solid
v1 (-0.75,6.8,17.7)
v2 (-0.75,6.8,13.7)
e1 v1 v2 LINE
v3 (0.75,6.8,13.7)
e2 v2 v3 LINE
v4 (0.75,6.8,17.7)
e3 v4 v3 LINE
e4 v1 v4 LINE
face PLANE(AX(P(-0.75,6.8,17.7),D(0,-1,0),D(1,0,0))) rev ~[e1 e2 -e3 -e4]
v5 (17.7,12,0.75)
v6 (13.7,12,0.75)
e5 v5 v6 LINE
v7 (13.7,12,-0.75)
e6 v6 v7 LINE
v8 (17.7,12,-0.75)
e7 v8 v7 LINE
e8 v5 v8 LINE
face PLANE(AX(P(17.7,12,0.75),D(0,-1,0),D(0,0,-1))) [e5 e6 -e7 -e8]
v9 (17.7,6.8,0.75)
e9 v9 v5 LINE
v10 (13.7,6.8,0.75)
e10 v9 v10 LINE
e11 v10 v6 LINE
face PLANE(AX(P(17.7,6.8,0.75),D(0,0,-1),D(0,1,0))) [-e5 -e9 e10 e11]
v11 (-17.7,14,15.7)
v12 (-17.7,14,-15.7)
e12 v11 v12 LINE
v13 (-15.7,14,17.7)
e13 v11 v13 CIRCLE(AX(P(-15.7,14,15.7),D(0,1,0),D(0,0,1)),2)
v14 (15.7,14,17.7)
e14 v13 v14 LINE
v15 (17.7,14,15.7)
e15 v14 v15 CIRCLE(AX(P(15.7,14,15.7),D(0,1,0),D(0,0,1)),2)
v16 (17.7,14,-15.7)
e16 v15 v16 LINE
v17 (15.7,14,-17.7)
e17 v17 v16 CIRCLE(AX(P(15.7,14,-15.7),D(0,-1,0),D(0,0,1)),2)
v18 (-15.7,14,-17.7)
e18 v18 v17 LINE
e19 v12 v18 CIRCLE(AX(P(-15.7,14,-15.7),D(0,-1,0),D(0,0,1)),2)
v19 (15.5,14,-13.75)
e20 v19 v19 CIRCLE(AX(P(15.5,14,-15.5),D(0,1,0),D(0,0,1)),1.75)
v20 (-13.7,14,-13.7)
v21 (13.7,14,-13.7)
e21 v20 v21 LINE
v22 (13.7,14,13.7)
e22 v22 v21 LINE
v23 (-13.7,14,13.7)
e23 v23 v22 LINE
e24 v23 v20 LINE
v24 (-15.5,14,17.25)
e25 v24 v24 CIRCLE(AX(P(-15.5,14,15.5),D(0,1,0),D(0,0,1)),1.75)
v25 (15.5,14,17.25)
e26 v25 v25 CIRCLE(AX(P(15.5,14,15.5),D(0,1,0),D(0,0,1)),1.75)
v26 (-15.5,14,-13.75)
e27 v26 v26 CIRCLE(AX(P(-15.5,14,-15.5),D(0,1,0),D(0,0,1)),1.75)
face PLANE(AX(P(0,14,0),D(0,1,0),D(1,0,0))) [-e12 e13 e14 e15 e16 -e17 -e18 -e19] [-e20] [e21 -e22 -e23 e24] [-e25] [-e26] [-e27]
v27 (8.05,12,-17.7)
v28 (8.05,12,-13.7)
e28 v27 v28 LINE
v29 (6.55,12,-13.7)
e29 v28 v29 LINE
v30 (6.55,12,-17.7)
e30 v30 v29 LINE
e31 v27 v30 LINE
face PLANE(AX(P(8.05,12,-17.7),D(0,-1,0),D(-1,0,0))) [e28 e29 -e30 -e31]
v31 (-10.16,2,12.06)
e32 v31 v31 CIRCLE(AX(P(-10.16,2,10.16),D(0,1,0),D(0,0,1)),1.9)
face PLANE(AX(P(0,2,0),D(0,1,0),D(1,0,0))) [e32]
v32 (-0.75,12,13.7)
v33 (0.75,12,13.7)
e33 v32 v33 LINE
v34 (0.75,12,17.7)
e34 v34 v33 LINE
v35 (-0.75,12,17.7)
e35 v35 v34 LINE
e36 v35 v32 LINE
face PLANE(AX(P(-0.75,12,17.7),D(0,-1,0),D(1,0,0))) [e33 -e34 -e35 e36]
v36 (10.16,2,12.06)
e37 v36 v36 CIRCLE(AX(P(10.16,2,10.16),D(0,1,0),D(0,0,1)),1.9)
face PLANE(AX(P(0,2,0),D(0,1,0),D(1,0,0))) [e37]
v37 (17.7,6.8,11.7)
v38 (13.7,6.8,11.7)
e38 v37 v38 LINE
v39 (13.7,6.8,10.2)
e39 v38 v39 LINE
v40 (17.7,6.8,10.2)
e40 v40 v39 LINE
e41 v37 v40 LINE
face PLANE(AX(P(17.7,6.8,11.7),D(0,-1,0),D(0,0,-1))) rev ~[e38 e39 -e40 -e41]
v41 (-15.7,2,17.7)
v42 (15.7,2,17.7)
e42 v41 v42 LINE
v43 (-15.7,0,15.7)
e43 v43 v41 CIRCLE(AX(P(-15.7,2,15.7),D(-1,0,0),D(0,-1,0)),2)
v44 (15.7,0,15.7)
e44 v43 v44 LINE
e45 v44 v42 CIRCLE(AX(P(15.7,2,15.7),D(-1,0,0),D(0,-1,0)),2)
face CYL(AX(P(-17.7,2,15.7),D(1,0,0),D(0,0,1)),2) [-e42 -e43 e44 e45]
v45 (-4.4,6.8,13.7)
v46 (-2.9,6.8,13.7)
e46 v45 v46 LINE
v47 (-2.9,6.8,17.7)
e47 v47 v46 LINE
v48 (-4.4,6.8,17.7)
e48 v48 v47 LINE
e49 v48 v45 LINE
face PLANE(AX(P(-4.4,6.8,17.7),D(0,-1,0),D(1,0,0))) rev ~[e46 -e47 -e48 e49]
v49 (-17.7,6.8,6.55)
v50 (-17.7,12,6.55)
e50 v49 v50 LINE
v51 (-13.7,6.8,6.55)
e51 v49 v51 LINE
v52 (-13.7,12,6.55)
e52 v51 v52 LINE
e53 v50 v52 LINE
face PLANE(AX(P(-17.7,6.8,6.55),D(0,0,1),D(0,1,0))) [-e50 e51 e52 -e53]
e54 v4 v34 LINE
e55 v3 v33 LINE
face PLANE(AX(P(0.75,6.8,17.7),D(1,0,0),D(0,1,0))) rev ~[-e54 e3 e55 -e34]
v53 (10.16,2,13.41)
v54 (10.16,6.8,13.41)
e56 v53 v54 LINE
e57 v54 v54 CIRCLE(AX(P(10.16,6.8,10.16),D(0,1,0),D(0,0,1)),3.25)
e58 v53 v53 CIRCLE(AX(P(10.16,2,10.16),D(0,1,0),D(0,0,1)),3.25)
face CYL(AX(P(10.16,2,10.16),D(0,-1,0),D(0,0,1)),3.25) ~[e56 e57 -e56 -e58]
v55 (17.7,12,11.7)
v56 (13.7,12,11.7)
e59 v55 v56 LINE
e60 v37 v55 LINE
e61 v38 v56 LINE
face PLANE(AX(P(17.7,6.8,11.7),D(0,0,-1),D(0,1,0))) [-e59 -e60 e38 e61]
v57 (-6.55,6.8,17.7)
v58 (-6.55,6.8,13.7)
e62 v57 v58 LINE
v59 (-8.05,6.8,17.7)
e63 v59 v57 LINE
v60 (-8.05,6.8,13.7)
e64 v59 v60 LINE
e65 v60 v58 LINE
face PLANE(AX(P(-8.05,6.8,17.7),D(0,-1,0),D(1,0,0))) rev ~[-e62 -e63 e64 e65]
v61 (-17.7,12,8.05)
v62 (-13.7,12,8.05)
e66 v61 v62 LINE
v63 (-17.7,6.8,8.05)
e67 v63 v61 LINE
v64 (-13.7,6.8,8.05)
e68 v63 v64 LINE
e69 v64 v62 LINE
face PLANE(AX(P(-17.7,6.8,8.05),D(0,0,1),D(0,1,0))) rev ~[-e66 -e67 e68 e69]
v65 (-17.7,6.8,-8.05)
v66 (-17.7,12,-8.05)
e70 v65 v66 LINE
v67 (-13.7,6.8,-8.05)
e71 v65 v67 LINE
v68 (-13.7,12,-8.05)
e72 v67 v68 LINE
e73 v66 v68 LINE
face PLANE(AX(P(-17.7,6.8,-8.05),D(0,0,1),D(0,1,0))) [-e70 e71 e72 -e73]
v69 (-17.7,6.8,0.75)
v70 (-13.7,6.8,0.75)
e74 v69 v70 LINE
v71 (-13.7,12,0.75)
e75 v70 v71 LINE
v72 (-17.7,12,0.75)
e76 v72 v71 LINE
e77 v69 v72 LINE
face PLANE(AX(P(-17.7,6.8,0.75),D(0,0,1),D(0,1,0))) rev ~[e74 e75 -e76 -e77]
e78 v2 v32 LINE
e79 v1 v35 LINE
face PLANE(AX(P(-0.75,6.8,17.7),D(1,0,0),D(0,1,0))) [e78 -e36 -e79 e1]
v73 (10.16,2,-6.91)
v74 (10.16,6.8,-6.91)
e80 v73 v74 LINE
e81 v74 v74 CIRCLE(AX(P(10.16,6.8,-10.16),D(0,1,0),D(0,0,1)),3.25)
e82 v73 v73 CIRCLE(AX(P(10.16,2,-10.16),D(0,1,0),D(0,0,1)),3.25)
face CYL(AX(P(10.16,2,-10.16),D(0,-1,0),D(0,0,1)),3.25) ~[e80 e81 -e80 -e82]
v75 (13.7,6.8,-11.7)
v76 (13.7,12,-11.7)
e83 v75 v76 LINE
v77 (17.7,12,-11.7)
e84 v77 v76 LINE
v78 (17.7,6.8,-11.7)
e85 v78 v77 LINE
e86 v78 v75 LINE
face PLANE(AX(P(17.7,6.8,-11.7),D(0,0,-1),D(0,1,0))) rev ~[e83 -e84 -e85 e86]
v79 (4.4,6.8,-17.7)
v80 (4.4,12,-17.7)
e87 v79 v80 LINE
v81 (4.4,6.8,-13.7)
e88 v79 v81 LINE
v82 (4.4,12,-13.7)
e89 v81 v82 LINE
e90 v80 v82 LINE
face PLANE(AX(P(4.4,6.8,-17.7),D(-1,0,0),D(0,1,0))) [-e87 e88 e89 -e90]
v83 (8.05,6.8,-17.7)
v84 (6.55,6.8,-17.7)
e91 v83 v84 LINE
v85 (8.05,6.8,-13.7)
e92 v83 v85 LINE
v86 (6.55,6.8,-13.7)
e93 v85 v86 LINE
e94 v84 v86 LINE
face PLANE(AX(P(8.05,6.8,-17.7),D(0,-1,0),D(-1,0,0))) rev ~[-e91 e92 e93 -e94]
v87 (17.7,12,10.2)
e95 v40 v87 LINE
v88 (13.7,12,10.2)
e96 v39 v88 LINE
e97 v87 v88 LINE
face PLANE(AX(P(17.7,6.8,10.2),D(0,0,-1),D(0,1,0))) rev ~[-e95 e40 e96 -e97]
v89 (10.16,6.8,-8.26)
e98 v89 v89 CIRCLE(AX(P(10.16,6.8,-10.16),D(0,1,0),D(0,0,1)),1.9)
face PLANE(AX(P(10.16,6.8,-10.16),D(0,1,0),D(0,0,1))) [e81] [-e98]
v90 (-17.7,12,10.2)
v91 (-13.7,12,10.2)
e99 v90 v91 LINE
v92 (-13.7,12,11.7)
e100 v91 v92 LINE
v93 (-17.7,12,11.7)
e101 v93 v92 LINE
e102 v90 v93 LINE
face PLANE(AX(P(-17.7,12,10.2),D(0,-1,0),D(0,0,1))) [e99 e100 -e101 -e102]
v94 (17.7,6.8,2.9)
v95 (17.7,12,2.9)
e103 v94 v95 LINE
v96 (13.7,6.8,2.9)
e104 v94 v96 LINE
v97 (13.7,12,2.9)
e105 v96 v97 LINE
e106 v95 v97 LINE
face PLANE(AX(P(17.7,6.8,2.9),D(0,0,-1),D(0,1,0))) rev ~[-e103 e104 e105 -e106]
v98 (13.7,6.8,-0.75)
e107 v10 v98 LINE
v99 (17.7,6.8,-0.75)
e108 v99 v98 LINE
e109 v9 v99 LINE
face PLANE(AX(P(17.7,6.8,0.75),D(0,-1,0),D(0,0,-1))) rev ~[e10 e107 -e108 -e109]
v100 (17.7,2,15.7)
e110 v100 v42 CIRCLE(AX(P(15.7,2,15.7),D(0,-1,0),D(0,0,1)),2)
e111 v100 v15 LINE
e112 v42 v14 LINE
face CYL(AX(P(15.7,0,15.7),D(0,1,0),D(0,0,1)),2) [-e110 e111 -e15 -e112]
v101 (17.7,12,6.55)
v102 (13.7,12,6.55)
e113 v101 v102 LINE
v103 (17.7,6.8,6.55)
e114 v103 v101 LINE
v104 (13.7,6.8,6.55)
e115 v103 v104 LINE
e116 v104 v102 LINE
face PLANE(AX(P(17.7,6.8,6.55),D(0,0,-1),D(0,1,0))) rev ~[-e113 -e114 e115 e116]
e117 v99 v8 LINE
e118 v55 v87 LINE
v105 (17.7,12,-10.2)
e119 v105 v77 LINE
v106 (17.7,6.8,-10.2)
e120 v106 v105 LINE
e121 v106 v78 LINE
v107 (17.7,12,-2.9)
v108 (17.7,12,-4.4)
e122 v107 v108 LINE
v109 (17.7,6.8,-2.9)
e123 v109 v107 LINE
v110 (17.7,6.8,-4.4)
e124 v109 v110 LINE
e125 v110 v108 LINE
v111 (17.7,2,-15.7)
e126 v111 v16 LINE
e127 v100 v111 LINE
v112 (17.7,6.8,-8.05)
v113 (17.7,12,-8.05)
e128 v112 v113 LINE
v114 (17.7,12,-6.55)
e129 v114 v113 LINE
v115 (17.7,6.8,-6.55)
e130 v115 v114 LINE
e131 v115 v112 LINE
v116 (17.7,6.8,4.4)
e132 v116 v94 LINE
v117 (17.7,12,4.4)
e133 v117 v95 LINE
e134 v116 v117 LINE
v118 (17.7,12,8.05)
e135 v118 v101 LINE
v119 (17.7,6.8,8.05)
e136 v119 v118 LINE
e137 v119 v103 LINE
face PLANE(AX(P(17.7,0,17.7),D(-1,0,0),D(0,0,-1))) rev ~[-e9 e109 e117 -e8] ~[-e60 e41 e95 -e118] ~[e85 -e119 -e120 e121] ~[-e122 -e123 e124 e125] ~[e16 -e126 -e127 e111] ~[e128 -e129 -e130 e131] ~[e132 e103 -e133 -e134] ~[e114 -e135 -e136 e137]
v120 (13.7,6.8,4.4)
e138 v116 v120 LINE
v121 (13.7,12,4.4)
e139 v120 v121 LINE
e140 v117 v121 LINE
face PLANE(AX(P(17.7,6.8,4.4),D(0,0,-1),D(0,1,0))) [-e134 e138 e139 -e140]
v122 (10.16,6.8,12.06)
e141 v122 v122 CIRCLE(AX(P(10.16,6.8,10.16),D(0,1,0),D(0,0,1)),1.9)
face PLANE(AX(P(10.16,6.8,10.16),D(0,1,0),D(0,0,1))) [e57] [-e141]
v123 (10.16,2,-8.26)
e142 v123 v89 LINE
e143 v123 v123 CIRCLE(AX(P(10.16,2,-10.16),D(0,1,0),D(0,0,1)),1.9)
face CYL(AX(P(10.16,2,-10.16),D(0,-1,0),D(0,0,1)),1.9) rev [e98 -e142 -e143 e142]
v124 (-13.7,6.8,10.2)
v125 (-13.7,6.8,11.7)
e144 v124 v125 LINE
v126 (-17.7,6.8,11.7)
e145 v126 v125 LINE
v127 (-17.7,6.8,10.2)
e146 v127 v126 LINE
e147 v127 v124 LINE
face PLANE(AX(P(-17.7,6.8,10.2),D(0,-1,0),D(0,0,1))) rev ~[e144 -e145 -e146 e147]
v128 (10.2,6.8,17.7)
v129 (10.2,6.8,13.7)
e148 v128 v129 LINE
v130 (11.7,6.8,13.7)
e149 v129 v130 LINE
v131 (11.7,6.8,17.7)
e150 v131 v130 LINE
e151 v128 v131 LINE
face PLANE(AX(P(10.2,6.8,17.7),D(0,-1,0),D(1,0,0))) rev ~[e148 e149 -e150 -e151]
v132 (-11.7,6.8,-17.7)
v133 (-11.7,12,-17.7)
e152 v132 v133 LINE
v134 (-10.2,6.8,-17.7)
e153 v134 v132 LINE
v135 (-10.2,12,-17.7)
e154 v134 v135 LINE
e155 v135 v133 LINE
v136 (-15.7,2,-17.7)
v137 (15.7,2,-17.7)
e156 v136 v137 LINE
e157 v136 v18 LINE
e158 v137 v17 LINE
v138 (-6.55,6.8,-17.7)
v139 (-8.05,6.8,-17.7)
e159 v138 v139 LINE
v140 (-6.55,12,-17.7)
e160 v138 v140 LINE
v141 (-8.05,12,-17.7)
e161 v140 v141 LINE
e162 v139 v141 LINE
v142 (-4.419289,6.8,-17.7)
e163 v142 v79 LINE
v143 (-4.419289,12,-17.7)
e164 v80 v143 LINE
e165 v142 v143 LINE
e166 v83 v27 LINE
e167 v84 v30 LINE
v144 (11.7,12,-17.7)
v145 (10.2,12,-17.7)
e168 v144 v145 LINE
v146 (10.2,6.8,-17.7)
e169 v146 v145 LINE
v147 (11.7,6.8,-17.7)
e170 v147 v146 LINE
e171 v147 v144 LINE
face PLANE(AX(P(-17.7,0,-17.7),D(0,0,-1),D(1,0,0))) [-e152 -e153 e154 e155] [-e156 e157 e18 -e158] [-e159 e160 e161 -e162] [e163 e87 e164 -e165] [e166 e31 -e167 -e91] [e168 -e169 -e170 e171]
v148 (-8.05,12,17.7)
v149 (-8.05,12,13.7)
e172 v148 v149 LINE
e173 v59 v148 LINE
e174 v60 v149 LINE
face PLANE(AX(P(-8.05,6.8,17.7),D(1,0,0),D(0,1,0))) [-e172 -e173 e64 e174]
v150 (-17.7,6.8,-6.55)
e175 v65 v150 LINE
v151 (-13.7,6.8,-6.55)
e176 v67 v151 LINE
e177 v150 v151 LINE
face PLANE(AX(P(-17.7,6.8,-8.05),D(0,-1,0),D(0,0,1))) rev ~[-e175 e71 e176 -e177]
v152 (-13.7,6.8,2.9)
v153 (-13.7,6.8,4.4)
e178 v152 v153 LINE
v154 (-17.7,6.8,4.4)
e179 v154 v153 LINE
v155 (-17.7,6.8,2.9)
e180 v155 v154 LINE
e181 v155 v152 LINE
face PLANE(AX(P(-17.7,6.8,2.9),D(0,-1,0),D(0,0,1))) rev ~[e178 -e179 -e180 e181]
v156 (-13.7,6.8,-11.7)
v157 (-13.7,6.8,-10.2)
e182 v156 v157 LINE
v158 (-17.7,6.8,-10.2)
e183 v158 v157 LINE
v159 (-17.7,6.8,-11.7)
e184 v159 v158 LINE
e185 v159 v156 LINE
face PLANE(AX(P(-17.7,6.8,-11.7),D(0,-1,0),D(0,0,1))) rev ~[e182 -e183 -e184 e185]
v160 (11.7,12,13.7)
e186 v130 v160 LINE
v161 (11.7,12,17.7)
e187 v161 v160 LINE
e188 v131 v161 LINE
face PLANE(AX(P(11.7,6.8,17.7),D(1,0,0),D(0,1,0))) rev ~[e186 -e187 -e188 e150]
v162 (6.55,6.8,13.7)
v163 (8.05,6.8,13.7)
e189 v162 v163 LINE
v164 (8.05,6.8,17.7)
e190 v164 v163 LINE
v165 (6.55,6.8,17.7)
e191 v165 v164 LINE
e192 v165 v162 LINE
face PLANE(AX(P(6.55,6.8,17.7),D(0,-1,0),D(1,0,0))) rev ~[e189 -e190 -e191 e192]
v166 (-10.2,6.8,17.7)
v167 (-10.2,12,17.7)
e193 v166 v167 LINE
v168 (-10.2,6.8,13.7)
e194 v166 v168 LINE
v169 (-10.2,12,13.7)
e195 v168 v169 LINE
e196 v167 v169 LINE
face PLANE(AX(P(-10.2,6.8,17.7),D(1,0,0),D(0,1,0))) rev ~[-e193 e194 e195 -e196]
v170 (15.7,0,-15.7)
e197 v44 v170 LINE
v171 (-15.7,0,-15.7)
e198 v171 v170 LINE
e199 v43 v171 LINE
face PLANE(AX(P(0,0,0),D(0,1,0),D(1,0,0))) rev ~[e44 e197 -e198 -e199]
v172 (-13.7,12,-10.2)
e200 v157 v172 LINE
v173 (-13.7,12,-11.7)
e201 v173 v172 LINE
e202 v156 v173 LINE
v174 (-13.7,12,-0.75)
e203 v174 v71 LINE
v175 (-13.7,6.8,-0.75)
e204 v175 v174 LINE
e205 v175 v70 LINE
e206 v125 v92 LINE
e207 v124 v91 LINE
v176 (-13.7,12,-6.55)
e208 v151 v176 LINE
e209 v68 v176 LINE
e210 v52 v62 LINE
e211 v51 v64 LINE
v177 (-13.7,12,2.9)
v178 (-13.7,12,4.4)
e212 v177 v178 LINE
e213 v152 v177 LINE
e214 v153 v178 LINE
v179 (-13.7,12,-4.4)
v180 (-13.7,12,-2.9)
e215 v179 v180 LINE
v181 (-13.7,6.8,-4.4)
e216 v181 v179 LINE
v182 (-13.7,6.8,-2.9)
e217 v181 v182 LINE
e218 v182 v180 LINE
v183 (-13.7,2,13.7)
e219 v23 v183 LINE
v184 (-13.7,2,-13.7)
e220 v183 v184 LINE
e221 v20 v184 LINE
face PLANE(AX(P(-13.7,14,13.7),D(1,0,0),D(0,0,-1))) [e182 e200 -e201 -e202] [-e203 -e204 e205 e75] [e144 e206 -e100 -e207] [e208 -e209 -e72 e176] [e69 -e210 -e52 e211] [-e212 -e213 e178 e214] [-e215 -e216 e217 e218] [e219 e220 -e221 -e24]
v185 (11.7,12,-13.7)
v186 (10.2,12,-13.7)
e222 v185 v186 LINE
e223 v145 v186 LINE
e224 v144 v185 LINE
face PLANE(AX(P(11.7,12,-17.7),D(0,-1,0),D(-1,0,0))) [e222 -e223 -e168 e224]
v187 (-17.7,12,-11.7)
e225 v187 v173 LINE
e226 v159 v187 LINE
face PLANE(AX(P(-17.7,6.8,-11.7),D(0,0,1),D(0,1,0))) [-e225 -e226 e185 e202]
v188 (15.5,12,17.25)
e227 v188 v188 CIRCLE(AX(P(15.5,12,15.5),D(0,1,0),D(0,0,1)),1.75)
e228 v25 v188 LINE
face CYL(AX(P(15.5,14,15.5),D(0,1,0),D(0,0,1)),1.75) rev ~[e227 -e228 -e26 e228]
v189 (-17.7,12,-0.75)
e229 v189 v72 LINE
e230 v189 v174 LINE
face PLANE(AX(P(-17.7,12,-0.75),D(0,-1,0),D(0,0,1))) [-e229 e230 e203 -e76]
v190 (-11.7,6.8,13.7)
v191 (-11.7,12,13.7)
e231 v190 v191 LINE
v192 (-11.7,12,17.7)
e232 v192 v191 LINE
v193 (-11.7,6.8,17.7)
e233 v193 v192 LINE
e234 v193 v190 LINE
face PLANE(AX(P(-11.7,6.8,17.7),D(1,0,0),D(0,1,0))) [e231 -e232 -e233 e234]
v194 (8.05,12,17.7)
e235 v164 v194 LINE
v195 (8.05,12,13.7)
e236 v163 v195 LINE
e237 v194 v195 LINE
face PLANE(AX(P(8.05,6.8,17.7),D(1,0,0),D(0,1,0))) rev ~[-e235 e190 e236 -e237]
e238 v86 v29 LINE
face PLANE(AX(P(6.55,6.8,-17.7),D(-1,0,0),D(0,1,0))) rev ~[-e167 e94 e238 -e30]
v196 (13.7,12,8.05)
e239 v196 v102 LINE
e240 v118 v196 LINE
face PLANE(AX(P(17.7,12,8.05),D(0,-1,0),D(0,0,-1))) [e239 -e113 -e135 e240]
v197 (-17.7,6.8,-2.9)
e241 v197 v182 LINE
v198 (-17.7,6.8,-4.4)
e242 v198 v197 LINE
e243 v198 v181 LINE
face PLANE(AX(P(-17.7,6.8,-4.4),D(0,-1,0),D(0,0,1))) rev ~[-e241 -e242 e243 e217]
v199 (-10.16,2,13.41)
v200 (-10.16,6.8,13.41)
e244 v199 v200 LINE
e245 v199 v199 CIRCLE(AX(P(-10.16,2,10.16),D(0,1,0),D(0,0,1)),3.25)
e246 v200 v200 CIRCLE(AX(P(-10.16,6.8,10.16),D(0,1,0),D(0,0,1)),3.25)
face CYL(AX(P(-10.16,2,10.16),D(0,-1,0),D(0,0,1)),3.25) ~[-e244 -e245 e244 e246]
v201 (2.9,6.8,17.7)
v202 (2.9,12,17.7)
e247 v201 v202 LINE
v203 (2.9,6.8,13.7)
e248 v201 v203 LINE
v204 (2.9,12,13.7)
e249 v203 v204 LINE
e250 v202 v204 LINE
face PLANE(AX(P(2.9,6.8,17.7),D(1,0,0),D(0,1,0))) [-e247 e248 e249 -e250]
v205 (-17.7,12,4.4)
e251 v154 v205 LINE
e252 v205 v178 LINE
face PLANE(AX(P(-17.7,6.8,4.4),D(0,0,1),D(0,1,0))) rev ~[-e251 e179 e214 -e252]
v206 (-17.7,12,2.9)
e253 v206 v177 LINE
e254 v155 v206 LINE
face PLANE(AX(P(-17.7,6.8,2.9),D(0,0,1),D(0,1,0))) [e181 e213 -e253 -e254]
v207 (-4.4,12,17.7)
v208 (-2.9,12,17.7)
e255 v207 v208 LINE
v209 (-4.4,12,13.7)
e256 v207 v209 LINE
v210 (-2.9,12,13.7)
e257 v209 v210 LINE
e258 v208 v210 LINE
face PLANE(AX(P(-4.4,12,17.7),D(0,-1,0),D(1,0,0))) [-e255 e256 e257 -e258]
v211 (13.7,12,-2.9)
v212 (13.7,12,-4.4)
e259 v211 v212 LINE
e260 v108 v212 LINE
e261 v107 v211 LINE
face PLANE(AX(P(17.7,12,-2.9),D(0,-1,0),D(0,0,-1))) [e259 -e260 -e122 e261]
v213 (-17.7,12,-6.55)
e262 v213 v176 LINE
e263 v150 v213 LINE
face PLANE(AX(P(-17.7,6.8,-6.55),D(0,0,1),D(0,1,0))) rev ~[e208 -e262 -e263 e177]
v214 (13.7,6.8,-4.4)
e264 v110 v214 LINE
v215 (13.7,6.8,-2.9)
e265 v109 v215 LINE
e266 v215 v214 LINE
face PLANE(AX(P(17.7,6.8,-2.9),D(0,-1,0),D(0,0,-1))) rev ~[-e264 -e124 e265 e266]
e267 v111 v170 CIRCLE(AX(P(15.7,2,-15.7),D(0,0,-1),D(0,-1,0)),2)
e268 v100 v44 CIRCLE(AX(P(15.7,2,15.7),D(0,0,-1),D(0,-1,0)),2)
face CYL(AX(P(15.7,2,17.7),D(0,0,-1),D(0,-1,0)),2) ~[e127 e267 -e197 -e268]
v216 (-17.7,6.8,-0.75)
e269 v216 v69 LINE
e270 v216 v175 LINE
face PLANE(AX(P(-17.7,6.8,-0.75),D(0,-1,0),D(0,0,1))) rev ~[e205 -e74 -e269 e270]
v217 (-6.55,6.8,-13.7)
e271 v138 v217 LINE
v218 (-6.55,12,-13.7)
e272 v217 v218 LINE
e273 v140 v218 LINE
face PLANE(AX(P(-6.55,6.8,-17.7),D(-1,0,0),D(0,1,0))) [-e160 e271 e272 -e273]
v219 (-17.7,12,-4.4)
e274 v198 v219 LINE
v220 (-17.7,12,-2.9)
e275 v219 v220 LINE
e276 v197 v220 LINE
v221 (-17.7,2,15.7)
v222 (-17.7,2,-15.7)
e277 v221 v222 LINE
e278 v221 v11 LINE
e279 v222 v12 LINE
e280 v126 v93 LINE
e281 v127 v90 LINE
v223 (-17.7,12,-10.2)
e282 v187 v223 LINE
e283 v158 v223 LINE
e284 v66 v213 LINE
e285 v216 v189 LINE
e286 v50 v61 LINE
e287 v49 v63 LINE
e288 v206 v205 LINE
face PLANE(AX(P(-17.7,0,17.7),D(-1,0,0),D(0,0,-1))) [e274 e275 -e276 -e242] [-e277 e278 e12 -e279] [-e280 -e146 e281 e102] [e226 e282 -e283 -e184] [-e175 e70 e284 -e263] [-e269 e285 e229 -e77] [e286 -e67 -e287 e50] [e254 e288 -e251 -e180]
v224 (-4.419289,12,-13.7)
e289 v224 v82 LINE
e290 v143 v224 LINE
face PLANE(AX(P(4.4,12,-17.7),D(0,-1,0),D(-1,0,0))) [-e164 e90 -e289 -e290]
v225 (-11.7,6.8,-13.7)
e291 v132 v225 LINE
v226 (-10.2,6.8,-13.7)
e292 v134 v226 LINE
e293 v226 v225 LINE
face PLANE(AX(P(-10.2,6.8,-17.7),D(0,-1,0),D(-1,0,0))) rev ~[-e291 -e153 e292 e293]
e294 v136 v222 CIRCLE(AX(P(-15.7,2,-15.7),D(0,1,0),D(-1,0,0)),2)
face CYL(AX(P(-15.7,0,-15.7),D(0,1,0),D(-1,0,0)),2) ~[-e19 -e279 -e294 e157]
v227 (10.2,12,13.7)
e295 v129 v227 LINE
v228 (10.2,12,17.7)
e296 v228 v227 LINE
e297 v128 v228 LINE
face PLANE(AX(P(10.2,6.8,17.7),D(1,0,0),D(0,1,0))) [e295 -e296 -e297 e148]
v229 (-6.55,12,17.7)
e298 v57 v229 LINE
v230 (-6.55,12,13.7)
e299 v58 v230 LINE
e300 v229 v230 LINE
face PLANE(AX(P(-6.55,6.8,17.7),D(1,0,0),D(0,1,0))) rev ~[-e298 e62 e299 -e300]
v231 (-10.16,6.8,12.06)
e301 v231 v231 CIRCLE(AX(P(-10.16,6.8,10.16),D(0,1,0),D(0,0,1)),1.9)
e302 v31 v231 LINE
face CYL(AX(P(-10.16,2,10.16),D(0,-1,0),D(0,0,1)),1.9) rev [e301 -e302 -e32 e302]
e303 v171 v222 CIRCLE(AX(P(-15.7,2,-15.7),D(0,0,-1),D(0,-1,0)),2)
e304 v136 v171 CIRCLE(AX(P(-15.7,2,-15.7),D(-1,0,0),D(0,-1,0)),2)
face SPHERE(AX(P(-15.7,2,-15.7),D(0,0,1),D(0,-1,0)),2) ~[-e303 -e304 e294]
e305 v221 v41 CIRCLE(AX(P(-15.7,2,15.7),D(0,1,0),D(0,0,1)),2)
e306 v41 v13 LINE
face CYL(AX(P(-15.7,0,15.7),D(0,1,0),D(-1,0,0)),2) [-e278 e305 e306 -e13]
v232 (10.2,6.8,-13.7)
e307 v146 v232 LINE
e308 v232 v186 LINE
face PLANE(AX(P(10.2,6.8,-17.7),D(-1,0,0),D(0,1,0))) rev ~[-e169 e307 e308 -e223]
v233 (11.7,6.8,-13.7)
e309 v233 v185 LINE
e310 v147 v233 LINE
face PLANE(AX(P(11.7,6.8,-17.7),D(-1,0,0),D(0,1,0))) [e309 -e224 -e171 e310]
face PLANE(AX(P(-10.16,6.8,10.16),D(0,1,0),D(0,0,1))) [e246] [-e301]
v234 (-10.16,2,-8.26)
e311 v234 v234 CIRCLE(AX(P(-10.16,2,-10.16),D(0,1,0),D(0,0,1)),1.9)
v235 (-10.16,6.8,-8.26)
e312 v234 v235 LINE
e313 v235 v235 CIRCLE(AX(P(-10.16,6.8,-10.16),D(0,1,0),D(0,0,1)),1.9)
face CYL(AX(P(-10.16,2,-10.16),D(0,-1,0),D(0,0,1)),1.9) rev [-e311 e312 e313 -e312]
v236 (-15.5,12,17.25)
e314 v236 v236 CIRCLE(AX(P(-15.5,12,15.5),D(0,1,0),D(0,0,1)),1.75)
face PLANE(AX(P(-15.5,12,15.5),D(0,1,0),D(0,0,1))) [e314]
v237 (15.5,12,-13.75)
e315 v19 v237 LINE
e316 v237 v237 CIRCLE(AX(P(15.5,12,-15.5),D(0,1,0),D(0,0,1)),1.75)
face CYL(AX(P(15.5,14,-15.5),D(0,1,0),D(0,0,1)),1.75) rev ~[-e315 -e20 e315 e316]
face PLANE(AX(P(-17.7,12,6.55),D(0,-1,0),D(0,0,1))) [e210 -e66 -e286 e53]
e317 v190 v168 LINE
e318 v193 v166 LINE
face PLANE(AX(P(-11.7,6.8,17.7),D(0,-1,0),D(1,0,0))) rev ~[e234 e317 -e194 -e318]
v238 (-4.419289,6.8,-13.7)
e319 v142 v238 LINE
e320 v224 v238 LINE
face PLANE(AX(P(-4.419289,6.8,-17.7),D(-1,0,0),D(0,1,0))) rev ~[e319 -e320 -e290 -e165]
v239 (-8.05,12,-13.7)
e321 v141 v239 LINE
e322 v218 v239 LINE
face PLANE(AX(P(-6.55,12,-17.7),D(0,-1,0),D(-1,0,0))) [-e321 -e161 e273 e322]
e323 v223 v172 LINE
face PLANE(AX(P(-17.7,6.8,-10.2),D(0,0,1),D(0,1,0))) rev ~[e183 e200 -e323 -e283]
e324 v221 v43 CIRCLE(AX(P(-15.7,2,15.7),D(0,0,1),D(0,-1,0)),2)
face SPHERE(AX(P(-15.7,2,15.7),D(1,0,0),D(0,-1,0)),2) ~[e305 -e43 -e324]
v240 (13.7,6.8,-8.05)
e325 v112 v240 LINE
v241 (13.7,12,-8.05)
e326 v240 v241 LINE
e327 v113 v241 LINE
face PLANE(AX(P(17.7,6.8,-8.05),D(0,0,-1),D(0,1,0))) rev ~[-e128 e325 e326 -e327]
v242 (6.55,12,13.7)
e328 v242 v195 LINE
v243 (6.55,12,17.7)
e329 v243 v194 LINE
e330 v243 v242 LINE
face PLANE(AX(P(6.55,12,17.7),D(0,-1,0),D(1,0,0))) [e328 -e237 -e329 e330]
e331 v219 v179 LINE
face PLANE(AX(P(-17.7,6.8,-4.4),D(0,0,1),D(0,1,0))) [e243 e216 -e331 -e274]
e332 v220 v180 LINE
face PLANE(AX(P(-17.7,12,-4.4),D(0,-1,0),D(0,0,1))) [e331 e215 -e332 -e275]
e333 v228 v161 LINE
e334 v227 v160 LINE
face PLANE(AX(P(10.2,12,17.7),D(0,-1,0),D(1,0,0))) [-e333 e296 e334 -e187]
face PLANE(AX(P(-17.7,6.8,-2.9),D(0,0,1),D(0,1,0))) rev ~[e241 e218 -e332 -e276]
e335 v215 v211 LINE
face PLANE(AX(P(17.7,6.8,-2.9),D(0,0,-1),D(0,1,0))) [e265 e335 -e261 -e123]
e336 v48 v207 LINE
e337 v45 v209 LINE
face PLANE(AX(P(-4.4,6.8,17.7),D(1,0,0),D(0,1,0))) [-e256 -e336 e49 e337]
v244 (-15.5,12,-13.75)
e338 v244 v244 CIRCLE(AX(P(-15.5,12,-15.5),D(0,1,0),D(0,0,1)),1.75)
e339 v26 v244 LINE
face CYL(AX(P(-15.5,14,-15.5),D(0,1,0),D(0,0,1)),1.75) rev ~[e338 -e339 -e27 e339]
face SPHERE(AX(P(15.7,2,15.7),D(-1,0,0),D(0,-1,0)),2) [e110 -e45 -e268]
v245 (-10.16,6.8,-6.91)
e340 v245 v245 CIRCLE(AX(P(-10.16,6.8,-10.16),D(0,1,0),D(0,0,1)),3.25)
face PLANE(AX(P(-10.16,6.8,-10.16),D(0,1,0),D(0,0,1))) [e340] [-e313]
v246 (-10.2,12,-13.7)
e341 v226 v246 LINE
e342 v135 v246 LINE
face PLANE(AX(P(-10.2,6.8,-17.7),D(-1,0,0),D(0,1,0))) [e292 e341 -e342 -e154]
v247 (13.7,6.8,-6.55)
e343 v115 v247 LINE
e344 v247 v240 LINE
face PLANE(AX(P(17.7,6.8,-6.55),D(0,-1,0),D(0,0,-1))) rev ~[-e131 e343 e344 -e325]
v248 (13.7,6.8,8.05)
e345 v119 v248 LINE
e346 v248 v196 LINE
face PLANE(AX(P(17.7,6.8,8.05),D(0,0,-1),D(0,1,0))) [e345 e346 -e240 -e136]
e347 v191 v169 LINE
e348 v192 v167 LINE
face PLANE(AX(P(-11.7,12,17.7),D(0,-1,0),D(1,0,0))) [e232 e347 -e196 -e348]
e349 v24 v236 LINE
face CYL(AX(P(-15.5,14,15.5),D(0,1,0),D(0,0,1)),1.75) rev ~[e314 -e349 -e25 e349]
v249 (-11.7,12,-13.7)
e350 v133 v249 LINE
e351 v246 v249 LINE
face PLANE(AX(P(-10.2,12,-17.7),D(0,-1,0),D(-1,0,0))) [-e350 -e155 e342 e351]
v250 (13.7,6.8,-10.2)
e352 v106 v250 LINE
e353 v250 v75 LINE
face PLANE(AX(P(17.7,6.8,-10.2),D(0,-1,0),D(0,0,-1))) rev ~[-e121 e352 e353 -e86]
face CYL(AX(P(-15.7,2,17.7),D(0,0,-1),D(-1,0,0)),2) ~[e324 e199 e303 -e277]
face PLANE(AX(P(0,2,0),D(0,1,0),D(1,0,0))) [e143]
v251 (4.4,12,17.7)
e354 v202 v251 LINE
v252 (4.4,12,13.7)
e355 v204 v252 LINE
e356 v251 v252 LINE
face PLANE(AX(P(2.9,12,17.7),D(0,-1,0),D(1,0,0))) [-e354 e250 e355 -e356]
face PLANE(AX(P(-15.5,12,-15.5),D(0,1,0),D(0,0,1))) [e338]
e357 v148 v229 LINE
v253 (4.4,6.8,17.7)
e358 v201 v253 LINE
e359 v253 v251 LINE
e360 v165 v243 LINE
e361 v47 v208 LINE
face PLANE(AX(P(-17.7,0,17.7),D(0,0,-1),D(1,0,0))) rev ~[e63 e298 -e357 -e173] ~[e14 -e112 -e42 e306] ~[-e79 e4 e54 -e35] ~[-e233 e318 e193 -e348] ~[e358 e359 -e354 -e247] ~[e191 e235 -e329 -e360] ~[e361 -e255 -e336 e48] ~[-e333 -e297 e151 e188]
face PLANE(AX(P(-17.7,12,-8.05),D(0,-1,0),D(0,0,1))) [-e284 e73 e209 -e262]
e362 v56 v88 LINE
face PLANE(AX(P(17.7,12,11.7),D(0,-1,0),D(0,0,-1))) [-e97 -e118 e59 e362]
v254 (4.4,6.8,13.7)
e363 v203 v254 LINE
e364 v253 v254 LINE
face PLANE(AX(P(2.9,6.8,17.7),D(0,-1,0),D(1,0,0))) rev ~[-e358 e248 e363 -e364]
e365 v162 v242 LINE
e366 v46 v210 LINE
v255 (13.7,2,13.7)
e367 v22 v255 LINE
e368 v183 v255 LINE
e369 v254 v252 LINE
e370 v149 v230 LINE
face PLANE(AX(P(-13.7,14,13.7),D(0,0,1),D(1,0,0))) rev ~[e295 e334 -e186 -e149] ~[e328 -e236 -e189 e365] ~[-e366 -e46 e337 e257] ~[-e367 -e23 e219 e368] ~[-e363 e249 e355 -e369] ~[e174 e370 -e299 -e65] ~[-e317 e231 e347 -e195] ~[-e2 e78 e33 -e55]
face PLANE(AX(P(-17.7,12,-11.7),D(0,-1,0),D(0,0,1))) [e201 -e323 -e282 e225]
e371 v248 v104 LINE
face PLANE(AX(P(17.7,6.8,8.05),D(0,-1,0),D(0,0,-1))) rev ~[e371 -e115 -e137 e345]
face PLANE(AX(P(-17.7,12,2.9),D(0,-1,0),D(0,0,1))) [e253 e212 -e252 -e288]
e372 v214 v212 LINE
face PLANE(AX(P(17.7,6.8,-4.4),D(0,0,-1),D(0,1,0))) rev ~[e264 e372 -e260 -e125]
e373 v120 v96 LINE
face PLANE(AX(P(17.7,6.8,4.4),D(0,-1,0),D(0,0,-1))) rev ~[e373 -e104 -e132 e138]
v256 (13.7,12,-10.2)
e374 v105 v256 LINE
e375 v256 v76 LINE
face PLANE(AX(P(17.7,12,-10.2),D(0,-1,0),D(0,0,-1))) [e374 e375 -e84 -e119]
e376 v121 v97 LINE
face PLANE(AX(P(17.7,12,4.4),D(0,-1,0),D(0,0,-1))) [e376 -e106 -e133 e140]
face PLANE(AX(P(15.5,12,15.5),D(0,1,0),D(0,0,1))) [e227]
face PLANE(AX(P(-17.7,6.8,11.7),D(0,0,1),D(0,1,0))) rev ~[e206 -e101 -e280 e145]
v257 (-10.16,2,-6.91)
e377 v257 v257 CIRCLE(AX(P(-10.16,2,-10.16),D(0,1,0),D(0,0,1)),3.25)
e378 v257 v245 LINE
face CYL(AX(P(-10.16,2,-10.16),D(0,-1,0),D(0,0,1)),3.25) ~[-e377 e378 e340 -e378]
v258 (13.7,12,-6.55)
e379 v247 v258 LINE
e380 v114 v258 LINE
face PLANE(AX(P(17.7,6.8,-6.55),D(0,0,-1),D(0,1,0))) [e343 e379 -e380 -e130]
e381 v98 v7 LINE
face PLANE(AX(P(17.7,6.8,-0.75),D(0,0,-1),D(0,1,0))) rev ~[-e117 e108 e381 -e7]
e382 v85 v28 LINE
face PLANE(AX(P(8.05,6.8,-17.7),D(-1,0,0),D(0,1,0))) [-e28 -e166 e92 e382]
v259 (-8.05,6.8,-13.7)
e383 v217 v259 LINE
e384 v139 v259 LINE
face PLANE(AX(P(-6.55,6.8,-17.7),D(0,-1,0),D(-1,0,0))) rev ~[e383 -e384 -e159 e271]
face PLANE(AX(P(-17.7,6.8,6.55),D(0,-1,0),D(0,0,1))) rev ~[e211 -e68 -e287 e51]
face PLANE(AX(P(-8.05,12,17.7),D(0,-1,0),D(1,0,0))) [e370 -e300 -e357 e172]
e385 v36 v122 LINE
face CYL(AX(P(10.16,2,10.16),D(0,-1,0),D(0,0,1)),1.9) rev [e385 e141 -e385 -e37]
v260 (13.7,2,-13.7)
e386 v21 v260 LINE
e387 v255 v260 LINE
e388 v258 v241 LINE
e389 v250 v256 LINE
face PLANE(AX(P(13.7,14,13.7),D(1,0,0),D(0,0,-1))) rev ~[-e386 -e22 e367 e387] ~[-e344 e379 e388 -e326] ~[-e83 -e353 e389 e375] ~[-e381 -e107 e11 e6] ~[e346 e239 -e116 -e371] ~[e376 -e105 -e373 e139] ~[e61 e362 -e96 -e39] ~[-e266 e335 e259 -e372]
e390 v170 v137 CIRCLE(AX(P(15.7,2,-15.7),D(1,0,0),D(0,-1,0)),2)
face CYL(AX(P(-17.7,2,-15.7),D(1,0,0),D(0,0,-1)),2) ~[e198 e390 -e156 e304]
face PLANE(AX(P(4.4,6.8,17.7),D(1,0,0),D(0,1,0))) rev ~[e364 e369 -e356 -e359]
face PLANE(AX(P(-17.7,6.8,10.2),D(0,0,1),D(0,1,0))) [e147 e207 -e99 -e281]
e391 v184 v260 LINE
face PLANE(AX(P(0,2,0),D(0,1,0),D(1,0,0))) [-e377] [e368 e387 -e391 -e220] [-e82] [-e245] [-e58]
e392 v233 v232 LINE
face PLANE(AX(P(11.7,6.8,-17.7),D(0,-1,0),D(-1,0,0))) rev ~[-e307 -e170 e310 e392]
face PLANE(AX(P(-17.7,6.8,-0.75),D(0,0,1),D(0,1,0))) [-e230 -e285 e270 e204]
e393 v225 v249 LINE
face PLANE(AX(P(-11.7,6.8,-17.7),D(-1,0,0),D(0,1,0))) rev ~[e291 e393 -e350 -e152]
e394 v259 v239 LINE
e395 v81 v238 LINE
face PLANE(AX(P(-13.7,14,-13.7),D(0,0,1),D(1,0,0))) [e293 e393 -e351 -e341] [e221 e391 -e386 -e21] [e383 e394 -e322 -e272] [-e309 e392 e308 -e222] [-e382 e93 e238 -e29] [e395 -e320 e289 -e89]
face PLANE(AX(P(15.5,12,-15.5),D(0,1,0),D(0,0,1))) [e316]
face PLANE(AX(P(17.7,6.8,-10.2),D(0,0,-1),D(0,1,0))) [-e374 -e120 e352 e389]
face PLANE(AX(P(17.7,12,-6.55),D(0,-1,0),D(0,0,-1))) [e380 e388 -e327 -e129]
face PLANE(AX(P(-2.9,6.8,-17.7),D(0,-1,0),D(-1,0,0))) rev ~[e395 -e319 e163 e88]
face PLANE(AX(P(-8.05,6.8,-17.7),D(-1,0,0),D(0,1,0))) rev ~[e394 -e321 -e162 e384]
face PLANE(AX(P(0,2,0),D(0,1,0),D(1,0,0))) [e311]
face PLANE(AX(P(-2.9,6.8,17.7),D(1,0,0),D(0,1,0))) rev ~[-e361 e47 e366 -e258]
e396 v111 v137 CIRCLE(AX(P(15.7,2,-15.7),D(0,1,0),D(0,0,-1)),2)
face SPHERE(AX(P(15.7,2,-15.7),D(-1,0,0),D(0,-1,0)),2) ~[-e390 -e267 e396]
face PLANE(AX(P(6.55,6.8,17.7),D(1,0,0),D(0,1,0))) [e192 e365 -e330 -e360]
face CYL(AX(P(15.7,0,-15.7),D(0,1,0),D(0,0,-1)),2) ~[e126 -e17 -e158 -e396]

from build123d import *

# Parameters (mm, degrees)
ESQUISSE1_W              = 35.4
ESQUISSE1_H              = 35.4
BOSS_EXTRU_1_DEPTH       = 14
ESQUISSE2_W              = 27.4
ESQUISSE2_H              = 27.4
ENL_V_MAT_EXTRU_1_DEPTH  = 12
ESQUISSE4_R              = 3.25
ESQUISSE4_R_2            = 1.9
BOSS_EXTRU_2_DEPTH       = 4.8
ESQUISSE5_R              = 1.75
ENL_V_MAT_EXTRU_2_DEPTH  = 2
CONG_6_R                 = 2
ESQUISSE9_W              = 1.5
ESQUISSE9_H              = 5.2
ENL_V_MAT_EXTRU_9_DEPTH  = 4
ESQUISSE8_W              = 1.5
ESQUISSE8_H              = 5.2
ENL_V_MAT_EXTRU_10_DEPTH = 4
ESQUISSE7_W              = 1.5
ESQUISSE7_H              = 5.2
ENL_V_MAT_EXTRU_11_DEPTH = 4
ESQUISSE6_W              = 1.5
ESQUISSE6_H              = 5.2
ENL_V_MAT_EXTRU_12_DEPTH = 4
ESQUISSE10_W             = 8.819289119
ESQUISSE10_H             = 5.2
ENL_V_MAT_EXTRU_13_DEPTH = 6


with BuildPart() as part:
    # Esquisse1 → Boss.-Extru.1 (new body)
    with BuildSketch(Plane(origin=(0, 0, 0), x_dir=(1, 0, 0), z_dir=(0, 1, 0))):
        Rectangle(ESQUISSE1_W, ESQUISSE1_H)
    extrude(amount=BOSS_EXTRU_1_DEPTH)

    # Esquisse2 → Enlèv. mat.-Extru.1 (cut)
    with BuildSketch(Plane(origin=(0, 14, 0), x_dir=(1, 0, 0), z_dir=(0, 1, 0))):
        Rectangle(ESQUISSE2_W, ESQUISSE2_H)
    extrude(amount=-ENL_V_MAT_EXTRU_1_DEPTH, mode=Mode.SUBTRACT)

    # Esquisse4 → Boss.-Extru.2 (add)
    # profile 1 of 4: a face of its own
    with BuildSketch(Plane(origin=(0, 2, 0), x_dir=(1, 0, 0), z_dir=(0, 1, 0))):
        with Locations(Location((-10.16, 10.16, 0), (0, 0, 270))):
            Circle(ESQUISSE4_R)
        with Locations(Location((-10.16, 10.16, 0), (0, 0, 270))):
            Circle(ESQUISSE4_R_2, mode=Mode.SUBTRACT)
    # profile 2 of 4: a face of its own
    with BuildSketch(Plane(origin=(0, 2, 0), x_dir=(1, 0, 0), z_dir=(0, 1, 0))):
        with Locations(Location((10.16, 10.16, 0), (0, 0, 270))):
            Circle(ESQUISSE4_R)
        with Locations(Location((10.16, 10.16, 0), (0, 0, 270))):
            Circle(ESQUISSE4_R_2, mode=Mode.SUBTRACT)
    # profile 3 of 4: a face of its own
    with BuildSketch(Plane(origin=(0, 2, 0), x_dir=(1, 0, 0), z_dir=(0, 1, 0))):
        with Locations(Location((10.16, -10.16, 0), (0, 0, 270))):
            Circle(ESQUISSE4_R)
        with Locations(Location((10.16, -10.16, 0), (0, 0, 270))):
            Circle(ESQUISSE4_R_2, mode=Mode.SUBTRACT)
    # profile 4 of 4: a face of its own
    with BuildSketch(Plane(origin=(0, 2, 0), x_dir=(1, 0, 0), z_dir=(0, 1, 0))):
        with Locations(Location((-10.16, -10.16, 0), (0, 0, 270))):
            Circle(ESQUISSE4_R)
        with Locations(Location((-10.16, -10.16, 0), (0, 0, 270))):
            Circle(ESQUISSE4_R_2, mode=Mode.SUBTRACT)
    extrude(amount=BOSS_EXTRU_2_DEPTH)

    # Esquisse5 → Enlèv. mat.-Extru.2 (cut)
    with BuildSketch(Plane(origin=(0, 14, 0), x_dir=(1, 0, 0), z_dir=(0, 1, 0))):
        with Locations(Location((15.5, 15.5, 0), (0, 0, 270))):
            Circle(ESQUISSE5_R)
        with Locations(Location((-15.5, 15.5, 0), (0, 0, 270))):
            Circle(ESQUISSE5_R)
        with Locations(Location((-15.5, -15.5, 0), (0, 0, 270))):
            Circle(ESQUISSE5_R)
        with Locations(Location((15.5, -15.5, 0), (0, 0, 270))):
            Circle(ESQUISSE5_R)
    extrude(amount=-ENL_V_MAT_EXTRU_2_DEPTH, mode=Mode.SUBTRACT)

    # Congé6
    cong_6_edges = [part.edges().sort_by_distance(p)[0] for p in [
        (0, 0, 17.7),
        (-17.7, 0, 0),
        (0, 0, -17.7),
        (17.7, 0, 0),
        (17.7, 7, 17.7),
        (-17.7, 7, 17.7),
        (-17.7, 7, -17.7),
        (17.7, 7, -17.7),
    ]]
    fillet(cong_6_edges, radius=CONG_6_R)

    # Esquisse9 → Enlèv. mat.-Extru.9 (cut)
    with BuildSketch(Plane(origin=(0, 0, -17.7), x_dir=(-1, 0, 0), z_dir=(0, 0, -1))):
        with Locations((-10.95, 9.4)):
            Rectangle(ESQUISSE9_W, ESQUISSE9_H)
        with Locations((-7.3, 9.4)):
            Rectangle(ESQUISSE9_W, ESQUISSE9_H)
        with Locations((-3.65, 9.4)):
            Rectangle(ESQUISSE9_W, ESQUISSE9_H)
        with Locations((0, 9.4)):
            Rectangle(ESQUISSE9_W, ESQUISSE9_H)
        with Locations((3.65, 9.4)):
            Rectangle(ESQUISSE9_W, ESQUISSE9_H)
        with Locations((7.3, 9.4)):
            Rectangle(ESQUISSE9_W, ESQUISSE9_H)
        with Locations((10.95, 9.4)):
            Rectangle(ESQUISSE9_W, ESQUISSE9_H)
    extrude(amount=-ENL_V_MAT_EXTRU_9_DEPTH, mode=Mode.SUBTRACT)

    # Esquisse8 → Enlèv. mat.-Extru.10 (cut)
    with BuildSketch(Plane.XY.offset(17.7)):
        with Locations((-10.95, 9.4)):
            Rectangle(ESQUISSE8_W, ESQUISSE8_H)
        with Locations((-7.3, 9.4)):
            Rectangle(ESQUISSE8_W, ESQUISSE8_H)
        with Locations((-3.65, 9.4)):
            Rectangle(ESQUISSE8_W, ESQUISSE8_H)
        with Locations((0, 9.4)):
            Rectangle(ESQUISSE8_W, ESQUISSE8_H)
        with Locations((3.65, 9.4)):
            Rectangle(ESQUISSE8_W, ESQUISSE8_H)
        with Locations((7.3, 9.4)):
            Rectangle(ESQUISSE8_W, ESQUISSE8_H)
        with Locations((10.95, 9.4)):
            Rectangle(ESQUISSE8_W, ESQUISSE8_H)
    extrude(amount=-ENL_V_MAT_EXTRU_10_DEPTH, mode=Mode.SUBTRACT)

    # Esquisse7 → Enlèv. mat.-Extru.11 (cut)
    with BuildSketch(Plane.ZY.offset(17.7)):
        with Locations((-10.95, 9.4)):
            Rectangle(ESQUISSE7_W, ESQUISSE7_H)
        with Locations((-7.3, 9.4)):
            Rectangle(ESQUISSE7_W, ESQUISSE7_H)
        with Locations((-3.65, 9.4)):
            Rectangle(ESQUISSE7_W, ESQUISSE7_H)
        with Locations((0, 9.4)):
            Rectangle(ESQUISSE7_W, ESQUISSE7_H)
        with Locations((3.65, 9.4)):
            Rectangle(ESQUISSE7_W, ESQUISSE7_H)
        with Locations((7.3, 9.4)):
            Rectangle(ESQUISSE7_W, ESQUISSE7_H)
        with Locations((10.95, 9.4)):
            Rectangle(ESQUISSE7_W, ESQUISSE7_H)
    extrude(amount=-ENL_V_MAT_EXTRU_11_DEPTH, mode=Mode.SUBTRACT)

    # Esquisse6 → Enlèv. mat.-Extru.12 (cut)
    with BuildSketch(Plane(origin=(17.7, 0, 0), x_dir=(0, 0, -1), z_dir=(1, 0, 0))):
        with Locations((-10.95, 9.4)):
            Rectangle(ESQUISSE6_W, ESQUISSE6_H)
        with Locations((-7.3, 9.4)):
            Rectangle(ESQUISSE6_W, ESQUISSE6_H)
        with Locations((-3.65, 9.4)):
            Rectangle(ESQUISSE6_W, ESQUISSE6_H)
        with Locations((0, 9.4)):
            Rectangle(ESQUISSE6_W, ESQUISSE6_H)
        with Locations((3.65, 9.4)):
            Rectangle(ESQUISSE6_W, ESQUISSE6_H)
        with Locations((7.3, 9.4)):
            Rectangle(ESQUISSE6_W, ESQUISSE6_H)
        with Locations((10.95, 9.4)):
            Rectangle(ESQUISSE6_W, ESQUISSE6_H)
    extrude(amount=-ENL_V_MAT_EXTRU_12_DEPTH, mode=Mode.SUBTRACT)

    # Esquisse10 → Enlèv. mat.-Extru.13 (cut)
    with BuildSketch(Plane(origin=(0, 0, -17.7), x_dir=(-1, 0, 0), z_dir=(0, 0, -1))):
        with Locations((0.009644559, 9.4)):
            Rectangle(ESQUISSE10_W, ESQUISSE10_H)
    extrude(amount=-ENL_V_MAT_EXTRU_13_DEPTH, mode=Mode.SUBTRACT)


solid = part.part
